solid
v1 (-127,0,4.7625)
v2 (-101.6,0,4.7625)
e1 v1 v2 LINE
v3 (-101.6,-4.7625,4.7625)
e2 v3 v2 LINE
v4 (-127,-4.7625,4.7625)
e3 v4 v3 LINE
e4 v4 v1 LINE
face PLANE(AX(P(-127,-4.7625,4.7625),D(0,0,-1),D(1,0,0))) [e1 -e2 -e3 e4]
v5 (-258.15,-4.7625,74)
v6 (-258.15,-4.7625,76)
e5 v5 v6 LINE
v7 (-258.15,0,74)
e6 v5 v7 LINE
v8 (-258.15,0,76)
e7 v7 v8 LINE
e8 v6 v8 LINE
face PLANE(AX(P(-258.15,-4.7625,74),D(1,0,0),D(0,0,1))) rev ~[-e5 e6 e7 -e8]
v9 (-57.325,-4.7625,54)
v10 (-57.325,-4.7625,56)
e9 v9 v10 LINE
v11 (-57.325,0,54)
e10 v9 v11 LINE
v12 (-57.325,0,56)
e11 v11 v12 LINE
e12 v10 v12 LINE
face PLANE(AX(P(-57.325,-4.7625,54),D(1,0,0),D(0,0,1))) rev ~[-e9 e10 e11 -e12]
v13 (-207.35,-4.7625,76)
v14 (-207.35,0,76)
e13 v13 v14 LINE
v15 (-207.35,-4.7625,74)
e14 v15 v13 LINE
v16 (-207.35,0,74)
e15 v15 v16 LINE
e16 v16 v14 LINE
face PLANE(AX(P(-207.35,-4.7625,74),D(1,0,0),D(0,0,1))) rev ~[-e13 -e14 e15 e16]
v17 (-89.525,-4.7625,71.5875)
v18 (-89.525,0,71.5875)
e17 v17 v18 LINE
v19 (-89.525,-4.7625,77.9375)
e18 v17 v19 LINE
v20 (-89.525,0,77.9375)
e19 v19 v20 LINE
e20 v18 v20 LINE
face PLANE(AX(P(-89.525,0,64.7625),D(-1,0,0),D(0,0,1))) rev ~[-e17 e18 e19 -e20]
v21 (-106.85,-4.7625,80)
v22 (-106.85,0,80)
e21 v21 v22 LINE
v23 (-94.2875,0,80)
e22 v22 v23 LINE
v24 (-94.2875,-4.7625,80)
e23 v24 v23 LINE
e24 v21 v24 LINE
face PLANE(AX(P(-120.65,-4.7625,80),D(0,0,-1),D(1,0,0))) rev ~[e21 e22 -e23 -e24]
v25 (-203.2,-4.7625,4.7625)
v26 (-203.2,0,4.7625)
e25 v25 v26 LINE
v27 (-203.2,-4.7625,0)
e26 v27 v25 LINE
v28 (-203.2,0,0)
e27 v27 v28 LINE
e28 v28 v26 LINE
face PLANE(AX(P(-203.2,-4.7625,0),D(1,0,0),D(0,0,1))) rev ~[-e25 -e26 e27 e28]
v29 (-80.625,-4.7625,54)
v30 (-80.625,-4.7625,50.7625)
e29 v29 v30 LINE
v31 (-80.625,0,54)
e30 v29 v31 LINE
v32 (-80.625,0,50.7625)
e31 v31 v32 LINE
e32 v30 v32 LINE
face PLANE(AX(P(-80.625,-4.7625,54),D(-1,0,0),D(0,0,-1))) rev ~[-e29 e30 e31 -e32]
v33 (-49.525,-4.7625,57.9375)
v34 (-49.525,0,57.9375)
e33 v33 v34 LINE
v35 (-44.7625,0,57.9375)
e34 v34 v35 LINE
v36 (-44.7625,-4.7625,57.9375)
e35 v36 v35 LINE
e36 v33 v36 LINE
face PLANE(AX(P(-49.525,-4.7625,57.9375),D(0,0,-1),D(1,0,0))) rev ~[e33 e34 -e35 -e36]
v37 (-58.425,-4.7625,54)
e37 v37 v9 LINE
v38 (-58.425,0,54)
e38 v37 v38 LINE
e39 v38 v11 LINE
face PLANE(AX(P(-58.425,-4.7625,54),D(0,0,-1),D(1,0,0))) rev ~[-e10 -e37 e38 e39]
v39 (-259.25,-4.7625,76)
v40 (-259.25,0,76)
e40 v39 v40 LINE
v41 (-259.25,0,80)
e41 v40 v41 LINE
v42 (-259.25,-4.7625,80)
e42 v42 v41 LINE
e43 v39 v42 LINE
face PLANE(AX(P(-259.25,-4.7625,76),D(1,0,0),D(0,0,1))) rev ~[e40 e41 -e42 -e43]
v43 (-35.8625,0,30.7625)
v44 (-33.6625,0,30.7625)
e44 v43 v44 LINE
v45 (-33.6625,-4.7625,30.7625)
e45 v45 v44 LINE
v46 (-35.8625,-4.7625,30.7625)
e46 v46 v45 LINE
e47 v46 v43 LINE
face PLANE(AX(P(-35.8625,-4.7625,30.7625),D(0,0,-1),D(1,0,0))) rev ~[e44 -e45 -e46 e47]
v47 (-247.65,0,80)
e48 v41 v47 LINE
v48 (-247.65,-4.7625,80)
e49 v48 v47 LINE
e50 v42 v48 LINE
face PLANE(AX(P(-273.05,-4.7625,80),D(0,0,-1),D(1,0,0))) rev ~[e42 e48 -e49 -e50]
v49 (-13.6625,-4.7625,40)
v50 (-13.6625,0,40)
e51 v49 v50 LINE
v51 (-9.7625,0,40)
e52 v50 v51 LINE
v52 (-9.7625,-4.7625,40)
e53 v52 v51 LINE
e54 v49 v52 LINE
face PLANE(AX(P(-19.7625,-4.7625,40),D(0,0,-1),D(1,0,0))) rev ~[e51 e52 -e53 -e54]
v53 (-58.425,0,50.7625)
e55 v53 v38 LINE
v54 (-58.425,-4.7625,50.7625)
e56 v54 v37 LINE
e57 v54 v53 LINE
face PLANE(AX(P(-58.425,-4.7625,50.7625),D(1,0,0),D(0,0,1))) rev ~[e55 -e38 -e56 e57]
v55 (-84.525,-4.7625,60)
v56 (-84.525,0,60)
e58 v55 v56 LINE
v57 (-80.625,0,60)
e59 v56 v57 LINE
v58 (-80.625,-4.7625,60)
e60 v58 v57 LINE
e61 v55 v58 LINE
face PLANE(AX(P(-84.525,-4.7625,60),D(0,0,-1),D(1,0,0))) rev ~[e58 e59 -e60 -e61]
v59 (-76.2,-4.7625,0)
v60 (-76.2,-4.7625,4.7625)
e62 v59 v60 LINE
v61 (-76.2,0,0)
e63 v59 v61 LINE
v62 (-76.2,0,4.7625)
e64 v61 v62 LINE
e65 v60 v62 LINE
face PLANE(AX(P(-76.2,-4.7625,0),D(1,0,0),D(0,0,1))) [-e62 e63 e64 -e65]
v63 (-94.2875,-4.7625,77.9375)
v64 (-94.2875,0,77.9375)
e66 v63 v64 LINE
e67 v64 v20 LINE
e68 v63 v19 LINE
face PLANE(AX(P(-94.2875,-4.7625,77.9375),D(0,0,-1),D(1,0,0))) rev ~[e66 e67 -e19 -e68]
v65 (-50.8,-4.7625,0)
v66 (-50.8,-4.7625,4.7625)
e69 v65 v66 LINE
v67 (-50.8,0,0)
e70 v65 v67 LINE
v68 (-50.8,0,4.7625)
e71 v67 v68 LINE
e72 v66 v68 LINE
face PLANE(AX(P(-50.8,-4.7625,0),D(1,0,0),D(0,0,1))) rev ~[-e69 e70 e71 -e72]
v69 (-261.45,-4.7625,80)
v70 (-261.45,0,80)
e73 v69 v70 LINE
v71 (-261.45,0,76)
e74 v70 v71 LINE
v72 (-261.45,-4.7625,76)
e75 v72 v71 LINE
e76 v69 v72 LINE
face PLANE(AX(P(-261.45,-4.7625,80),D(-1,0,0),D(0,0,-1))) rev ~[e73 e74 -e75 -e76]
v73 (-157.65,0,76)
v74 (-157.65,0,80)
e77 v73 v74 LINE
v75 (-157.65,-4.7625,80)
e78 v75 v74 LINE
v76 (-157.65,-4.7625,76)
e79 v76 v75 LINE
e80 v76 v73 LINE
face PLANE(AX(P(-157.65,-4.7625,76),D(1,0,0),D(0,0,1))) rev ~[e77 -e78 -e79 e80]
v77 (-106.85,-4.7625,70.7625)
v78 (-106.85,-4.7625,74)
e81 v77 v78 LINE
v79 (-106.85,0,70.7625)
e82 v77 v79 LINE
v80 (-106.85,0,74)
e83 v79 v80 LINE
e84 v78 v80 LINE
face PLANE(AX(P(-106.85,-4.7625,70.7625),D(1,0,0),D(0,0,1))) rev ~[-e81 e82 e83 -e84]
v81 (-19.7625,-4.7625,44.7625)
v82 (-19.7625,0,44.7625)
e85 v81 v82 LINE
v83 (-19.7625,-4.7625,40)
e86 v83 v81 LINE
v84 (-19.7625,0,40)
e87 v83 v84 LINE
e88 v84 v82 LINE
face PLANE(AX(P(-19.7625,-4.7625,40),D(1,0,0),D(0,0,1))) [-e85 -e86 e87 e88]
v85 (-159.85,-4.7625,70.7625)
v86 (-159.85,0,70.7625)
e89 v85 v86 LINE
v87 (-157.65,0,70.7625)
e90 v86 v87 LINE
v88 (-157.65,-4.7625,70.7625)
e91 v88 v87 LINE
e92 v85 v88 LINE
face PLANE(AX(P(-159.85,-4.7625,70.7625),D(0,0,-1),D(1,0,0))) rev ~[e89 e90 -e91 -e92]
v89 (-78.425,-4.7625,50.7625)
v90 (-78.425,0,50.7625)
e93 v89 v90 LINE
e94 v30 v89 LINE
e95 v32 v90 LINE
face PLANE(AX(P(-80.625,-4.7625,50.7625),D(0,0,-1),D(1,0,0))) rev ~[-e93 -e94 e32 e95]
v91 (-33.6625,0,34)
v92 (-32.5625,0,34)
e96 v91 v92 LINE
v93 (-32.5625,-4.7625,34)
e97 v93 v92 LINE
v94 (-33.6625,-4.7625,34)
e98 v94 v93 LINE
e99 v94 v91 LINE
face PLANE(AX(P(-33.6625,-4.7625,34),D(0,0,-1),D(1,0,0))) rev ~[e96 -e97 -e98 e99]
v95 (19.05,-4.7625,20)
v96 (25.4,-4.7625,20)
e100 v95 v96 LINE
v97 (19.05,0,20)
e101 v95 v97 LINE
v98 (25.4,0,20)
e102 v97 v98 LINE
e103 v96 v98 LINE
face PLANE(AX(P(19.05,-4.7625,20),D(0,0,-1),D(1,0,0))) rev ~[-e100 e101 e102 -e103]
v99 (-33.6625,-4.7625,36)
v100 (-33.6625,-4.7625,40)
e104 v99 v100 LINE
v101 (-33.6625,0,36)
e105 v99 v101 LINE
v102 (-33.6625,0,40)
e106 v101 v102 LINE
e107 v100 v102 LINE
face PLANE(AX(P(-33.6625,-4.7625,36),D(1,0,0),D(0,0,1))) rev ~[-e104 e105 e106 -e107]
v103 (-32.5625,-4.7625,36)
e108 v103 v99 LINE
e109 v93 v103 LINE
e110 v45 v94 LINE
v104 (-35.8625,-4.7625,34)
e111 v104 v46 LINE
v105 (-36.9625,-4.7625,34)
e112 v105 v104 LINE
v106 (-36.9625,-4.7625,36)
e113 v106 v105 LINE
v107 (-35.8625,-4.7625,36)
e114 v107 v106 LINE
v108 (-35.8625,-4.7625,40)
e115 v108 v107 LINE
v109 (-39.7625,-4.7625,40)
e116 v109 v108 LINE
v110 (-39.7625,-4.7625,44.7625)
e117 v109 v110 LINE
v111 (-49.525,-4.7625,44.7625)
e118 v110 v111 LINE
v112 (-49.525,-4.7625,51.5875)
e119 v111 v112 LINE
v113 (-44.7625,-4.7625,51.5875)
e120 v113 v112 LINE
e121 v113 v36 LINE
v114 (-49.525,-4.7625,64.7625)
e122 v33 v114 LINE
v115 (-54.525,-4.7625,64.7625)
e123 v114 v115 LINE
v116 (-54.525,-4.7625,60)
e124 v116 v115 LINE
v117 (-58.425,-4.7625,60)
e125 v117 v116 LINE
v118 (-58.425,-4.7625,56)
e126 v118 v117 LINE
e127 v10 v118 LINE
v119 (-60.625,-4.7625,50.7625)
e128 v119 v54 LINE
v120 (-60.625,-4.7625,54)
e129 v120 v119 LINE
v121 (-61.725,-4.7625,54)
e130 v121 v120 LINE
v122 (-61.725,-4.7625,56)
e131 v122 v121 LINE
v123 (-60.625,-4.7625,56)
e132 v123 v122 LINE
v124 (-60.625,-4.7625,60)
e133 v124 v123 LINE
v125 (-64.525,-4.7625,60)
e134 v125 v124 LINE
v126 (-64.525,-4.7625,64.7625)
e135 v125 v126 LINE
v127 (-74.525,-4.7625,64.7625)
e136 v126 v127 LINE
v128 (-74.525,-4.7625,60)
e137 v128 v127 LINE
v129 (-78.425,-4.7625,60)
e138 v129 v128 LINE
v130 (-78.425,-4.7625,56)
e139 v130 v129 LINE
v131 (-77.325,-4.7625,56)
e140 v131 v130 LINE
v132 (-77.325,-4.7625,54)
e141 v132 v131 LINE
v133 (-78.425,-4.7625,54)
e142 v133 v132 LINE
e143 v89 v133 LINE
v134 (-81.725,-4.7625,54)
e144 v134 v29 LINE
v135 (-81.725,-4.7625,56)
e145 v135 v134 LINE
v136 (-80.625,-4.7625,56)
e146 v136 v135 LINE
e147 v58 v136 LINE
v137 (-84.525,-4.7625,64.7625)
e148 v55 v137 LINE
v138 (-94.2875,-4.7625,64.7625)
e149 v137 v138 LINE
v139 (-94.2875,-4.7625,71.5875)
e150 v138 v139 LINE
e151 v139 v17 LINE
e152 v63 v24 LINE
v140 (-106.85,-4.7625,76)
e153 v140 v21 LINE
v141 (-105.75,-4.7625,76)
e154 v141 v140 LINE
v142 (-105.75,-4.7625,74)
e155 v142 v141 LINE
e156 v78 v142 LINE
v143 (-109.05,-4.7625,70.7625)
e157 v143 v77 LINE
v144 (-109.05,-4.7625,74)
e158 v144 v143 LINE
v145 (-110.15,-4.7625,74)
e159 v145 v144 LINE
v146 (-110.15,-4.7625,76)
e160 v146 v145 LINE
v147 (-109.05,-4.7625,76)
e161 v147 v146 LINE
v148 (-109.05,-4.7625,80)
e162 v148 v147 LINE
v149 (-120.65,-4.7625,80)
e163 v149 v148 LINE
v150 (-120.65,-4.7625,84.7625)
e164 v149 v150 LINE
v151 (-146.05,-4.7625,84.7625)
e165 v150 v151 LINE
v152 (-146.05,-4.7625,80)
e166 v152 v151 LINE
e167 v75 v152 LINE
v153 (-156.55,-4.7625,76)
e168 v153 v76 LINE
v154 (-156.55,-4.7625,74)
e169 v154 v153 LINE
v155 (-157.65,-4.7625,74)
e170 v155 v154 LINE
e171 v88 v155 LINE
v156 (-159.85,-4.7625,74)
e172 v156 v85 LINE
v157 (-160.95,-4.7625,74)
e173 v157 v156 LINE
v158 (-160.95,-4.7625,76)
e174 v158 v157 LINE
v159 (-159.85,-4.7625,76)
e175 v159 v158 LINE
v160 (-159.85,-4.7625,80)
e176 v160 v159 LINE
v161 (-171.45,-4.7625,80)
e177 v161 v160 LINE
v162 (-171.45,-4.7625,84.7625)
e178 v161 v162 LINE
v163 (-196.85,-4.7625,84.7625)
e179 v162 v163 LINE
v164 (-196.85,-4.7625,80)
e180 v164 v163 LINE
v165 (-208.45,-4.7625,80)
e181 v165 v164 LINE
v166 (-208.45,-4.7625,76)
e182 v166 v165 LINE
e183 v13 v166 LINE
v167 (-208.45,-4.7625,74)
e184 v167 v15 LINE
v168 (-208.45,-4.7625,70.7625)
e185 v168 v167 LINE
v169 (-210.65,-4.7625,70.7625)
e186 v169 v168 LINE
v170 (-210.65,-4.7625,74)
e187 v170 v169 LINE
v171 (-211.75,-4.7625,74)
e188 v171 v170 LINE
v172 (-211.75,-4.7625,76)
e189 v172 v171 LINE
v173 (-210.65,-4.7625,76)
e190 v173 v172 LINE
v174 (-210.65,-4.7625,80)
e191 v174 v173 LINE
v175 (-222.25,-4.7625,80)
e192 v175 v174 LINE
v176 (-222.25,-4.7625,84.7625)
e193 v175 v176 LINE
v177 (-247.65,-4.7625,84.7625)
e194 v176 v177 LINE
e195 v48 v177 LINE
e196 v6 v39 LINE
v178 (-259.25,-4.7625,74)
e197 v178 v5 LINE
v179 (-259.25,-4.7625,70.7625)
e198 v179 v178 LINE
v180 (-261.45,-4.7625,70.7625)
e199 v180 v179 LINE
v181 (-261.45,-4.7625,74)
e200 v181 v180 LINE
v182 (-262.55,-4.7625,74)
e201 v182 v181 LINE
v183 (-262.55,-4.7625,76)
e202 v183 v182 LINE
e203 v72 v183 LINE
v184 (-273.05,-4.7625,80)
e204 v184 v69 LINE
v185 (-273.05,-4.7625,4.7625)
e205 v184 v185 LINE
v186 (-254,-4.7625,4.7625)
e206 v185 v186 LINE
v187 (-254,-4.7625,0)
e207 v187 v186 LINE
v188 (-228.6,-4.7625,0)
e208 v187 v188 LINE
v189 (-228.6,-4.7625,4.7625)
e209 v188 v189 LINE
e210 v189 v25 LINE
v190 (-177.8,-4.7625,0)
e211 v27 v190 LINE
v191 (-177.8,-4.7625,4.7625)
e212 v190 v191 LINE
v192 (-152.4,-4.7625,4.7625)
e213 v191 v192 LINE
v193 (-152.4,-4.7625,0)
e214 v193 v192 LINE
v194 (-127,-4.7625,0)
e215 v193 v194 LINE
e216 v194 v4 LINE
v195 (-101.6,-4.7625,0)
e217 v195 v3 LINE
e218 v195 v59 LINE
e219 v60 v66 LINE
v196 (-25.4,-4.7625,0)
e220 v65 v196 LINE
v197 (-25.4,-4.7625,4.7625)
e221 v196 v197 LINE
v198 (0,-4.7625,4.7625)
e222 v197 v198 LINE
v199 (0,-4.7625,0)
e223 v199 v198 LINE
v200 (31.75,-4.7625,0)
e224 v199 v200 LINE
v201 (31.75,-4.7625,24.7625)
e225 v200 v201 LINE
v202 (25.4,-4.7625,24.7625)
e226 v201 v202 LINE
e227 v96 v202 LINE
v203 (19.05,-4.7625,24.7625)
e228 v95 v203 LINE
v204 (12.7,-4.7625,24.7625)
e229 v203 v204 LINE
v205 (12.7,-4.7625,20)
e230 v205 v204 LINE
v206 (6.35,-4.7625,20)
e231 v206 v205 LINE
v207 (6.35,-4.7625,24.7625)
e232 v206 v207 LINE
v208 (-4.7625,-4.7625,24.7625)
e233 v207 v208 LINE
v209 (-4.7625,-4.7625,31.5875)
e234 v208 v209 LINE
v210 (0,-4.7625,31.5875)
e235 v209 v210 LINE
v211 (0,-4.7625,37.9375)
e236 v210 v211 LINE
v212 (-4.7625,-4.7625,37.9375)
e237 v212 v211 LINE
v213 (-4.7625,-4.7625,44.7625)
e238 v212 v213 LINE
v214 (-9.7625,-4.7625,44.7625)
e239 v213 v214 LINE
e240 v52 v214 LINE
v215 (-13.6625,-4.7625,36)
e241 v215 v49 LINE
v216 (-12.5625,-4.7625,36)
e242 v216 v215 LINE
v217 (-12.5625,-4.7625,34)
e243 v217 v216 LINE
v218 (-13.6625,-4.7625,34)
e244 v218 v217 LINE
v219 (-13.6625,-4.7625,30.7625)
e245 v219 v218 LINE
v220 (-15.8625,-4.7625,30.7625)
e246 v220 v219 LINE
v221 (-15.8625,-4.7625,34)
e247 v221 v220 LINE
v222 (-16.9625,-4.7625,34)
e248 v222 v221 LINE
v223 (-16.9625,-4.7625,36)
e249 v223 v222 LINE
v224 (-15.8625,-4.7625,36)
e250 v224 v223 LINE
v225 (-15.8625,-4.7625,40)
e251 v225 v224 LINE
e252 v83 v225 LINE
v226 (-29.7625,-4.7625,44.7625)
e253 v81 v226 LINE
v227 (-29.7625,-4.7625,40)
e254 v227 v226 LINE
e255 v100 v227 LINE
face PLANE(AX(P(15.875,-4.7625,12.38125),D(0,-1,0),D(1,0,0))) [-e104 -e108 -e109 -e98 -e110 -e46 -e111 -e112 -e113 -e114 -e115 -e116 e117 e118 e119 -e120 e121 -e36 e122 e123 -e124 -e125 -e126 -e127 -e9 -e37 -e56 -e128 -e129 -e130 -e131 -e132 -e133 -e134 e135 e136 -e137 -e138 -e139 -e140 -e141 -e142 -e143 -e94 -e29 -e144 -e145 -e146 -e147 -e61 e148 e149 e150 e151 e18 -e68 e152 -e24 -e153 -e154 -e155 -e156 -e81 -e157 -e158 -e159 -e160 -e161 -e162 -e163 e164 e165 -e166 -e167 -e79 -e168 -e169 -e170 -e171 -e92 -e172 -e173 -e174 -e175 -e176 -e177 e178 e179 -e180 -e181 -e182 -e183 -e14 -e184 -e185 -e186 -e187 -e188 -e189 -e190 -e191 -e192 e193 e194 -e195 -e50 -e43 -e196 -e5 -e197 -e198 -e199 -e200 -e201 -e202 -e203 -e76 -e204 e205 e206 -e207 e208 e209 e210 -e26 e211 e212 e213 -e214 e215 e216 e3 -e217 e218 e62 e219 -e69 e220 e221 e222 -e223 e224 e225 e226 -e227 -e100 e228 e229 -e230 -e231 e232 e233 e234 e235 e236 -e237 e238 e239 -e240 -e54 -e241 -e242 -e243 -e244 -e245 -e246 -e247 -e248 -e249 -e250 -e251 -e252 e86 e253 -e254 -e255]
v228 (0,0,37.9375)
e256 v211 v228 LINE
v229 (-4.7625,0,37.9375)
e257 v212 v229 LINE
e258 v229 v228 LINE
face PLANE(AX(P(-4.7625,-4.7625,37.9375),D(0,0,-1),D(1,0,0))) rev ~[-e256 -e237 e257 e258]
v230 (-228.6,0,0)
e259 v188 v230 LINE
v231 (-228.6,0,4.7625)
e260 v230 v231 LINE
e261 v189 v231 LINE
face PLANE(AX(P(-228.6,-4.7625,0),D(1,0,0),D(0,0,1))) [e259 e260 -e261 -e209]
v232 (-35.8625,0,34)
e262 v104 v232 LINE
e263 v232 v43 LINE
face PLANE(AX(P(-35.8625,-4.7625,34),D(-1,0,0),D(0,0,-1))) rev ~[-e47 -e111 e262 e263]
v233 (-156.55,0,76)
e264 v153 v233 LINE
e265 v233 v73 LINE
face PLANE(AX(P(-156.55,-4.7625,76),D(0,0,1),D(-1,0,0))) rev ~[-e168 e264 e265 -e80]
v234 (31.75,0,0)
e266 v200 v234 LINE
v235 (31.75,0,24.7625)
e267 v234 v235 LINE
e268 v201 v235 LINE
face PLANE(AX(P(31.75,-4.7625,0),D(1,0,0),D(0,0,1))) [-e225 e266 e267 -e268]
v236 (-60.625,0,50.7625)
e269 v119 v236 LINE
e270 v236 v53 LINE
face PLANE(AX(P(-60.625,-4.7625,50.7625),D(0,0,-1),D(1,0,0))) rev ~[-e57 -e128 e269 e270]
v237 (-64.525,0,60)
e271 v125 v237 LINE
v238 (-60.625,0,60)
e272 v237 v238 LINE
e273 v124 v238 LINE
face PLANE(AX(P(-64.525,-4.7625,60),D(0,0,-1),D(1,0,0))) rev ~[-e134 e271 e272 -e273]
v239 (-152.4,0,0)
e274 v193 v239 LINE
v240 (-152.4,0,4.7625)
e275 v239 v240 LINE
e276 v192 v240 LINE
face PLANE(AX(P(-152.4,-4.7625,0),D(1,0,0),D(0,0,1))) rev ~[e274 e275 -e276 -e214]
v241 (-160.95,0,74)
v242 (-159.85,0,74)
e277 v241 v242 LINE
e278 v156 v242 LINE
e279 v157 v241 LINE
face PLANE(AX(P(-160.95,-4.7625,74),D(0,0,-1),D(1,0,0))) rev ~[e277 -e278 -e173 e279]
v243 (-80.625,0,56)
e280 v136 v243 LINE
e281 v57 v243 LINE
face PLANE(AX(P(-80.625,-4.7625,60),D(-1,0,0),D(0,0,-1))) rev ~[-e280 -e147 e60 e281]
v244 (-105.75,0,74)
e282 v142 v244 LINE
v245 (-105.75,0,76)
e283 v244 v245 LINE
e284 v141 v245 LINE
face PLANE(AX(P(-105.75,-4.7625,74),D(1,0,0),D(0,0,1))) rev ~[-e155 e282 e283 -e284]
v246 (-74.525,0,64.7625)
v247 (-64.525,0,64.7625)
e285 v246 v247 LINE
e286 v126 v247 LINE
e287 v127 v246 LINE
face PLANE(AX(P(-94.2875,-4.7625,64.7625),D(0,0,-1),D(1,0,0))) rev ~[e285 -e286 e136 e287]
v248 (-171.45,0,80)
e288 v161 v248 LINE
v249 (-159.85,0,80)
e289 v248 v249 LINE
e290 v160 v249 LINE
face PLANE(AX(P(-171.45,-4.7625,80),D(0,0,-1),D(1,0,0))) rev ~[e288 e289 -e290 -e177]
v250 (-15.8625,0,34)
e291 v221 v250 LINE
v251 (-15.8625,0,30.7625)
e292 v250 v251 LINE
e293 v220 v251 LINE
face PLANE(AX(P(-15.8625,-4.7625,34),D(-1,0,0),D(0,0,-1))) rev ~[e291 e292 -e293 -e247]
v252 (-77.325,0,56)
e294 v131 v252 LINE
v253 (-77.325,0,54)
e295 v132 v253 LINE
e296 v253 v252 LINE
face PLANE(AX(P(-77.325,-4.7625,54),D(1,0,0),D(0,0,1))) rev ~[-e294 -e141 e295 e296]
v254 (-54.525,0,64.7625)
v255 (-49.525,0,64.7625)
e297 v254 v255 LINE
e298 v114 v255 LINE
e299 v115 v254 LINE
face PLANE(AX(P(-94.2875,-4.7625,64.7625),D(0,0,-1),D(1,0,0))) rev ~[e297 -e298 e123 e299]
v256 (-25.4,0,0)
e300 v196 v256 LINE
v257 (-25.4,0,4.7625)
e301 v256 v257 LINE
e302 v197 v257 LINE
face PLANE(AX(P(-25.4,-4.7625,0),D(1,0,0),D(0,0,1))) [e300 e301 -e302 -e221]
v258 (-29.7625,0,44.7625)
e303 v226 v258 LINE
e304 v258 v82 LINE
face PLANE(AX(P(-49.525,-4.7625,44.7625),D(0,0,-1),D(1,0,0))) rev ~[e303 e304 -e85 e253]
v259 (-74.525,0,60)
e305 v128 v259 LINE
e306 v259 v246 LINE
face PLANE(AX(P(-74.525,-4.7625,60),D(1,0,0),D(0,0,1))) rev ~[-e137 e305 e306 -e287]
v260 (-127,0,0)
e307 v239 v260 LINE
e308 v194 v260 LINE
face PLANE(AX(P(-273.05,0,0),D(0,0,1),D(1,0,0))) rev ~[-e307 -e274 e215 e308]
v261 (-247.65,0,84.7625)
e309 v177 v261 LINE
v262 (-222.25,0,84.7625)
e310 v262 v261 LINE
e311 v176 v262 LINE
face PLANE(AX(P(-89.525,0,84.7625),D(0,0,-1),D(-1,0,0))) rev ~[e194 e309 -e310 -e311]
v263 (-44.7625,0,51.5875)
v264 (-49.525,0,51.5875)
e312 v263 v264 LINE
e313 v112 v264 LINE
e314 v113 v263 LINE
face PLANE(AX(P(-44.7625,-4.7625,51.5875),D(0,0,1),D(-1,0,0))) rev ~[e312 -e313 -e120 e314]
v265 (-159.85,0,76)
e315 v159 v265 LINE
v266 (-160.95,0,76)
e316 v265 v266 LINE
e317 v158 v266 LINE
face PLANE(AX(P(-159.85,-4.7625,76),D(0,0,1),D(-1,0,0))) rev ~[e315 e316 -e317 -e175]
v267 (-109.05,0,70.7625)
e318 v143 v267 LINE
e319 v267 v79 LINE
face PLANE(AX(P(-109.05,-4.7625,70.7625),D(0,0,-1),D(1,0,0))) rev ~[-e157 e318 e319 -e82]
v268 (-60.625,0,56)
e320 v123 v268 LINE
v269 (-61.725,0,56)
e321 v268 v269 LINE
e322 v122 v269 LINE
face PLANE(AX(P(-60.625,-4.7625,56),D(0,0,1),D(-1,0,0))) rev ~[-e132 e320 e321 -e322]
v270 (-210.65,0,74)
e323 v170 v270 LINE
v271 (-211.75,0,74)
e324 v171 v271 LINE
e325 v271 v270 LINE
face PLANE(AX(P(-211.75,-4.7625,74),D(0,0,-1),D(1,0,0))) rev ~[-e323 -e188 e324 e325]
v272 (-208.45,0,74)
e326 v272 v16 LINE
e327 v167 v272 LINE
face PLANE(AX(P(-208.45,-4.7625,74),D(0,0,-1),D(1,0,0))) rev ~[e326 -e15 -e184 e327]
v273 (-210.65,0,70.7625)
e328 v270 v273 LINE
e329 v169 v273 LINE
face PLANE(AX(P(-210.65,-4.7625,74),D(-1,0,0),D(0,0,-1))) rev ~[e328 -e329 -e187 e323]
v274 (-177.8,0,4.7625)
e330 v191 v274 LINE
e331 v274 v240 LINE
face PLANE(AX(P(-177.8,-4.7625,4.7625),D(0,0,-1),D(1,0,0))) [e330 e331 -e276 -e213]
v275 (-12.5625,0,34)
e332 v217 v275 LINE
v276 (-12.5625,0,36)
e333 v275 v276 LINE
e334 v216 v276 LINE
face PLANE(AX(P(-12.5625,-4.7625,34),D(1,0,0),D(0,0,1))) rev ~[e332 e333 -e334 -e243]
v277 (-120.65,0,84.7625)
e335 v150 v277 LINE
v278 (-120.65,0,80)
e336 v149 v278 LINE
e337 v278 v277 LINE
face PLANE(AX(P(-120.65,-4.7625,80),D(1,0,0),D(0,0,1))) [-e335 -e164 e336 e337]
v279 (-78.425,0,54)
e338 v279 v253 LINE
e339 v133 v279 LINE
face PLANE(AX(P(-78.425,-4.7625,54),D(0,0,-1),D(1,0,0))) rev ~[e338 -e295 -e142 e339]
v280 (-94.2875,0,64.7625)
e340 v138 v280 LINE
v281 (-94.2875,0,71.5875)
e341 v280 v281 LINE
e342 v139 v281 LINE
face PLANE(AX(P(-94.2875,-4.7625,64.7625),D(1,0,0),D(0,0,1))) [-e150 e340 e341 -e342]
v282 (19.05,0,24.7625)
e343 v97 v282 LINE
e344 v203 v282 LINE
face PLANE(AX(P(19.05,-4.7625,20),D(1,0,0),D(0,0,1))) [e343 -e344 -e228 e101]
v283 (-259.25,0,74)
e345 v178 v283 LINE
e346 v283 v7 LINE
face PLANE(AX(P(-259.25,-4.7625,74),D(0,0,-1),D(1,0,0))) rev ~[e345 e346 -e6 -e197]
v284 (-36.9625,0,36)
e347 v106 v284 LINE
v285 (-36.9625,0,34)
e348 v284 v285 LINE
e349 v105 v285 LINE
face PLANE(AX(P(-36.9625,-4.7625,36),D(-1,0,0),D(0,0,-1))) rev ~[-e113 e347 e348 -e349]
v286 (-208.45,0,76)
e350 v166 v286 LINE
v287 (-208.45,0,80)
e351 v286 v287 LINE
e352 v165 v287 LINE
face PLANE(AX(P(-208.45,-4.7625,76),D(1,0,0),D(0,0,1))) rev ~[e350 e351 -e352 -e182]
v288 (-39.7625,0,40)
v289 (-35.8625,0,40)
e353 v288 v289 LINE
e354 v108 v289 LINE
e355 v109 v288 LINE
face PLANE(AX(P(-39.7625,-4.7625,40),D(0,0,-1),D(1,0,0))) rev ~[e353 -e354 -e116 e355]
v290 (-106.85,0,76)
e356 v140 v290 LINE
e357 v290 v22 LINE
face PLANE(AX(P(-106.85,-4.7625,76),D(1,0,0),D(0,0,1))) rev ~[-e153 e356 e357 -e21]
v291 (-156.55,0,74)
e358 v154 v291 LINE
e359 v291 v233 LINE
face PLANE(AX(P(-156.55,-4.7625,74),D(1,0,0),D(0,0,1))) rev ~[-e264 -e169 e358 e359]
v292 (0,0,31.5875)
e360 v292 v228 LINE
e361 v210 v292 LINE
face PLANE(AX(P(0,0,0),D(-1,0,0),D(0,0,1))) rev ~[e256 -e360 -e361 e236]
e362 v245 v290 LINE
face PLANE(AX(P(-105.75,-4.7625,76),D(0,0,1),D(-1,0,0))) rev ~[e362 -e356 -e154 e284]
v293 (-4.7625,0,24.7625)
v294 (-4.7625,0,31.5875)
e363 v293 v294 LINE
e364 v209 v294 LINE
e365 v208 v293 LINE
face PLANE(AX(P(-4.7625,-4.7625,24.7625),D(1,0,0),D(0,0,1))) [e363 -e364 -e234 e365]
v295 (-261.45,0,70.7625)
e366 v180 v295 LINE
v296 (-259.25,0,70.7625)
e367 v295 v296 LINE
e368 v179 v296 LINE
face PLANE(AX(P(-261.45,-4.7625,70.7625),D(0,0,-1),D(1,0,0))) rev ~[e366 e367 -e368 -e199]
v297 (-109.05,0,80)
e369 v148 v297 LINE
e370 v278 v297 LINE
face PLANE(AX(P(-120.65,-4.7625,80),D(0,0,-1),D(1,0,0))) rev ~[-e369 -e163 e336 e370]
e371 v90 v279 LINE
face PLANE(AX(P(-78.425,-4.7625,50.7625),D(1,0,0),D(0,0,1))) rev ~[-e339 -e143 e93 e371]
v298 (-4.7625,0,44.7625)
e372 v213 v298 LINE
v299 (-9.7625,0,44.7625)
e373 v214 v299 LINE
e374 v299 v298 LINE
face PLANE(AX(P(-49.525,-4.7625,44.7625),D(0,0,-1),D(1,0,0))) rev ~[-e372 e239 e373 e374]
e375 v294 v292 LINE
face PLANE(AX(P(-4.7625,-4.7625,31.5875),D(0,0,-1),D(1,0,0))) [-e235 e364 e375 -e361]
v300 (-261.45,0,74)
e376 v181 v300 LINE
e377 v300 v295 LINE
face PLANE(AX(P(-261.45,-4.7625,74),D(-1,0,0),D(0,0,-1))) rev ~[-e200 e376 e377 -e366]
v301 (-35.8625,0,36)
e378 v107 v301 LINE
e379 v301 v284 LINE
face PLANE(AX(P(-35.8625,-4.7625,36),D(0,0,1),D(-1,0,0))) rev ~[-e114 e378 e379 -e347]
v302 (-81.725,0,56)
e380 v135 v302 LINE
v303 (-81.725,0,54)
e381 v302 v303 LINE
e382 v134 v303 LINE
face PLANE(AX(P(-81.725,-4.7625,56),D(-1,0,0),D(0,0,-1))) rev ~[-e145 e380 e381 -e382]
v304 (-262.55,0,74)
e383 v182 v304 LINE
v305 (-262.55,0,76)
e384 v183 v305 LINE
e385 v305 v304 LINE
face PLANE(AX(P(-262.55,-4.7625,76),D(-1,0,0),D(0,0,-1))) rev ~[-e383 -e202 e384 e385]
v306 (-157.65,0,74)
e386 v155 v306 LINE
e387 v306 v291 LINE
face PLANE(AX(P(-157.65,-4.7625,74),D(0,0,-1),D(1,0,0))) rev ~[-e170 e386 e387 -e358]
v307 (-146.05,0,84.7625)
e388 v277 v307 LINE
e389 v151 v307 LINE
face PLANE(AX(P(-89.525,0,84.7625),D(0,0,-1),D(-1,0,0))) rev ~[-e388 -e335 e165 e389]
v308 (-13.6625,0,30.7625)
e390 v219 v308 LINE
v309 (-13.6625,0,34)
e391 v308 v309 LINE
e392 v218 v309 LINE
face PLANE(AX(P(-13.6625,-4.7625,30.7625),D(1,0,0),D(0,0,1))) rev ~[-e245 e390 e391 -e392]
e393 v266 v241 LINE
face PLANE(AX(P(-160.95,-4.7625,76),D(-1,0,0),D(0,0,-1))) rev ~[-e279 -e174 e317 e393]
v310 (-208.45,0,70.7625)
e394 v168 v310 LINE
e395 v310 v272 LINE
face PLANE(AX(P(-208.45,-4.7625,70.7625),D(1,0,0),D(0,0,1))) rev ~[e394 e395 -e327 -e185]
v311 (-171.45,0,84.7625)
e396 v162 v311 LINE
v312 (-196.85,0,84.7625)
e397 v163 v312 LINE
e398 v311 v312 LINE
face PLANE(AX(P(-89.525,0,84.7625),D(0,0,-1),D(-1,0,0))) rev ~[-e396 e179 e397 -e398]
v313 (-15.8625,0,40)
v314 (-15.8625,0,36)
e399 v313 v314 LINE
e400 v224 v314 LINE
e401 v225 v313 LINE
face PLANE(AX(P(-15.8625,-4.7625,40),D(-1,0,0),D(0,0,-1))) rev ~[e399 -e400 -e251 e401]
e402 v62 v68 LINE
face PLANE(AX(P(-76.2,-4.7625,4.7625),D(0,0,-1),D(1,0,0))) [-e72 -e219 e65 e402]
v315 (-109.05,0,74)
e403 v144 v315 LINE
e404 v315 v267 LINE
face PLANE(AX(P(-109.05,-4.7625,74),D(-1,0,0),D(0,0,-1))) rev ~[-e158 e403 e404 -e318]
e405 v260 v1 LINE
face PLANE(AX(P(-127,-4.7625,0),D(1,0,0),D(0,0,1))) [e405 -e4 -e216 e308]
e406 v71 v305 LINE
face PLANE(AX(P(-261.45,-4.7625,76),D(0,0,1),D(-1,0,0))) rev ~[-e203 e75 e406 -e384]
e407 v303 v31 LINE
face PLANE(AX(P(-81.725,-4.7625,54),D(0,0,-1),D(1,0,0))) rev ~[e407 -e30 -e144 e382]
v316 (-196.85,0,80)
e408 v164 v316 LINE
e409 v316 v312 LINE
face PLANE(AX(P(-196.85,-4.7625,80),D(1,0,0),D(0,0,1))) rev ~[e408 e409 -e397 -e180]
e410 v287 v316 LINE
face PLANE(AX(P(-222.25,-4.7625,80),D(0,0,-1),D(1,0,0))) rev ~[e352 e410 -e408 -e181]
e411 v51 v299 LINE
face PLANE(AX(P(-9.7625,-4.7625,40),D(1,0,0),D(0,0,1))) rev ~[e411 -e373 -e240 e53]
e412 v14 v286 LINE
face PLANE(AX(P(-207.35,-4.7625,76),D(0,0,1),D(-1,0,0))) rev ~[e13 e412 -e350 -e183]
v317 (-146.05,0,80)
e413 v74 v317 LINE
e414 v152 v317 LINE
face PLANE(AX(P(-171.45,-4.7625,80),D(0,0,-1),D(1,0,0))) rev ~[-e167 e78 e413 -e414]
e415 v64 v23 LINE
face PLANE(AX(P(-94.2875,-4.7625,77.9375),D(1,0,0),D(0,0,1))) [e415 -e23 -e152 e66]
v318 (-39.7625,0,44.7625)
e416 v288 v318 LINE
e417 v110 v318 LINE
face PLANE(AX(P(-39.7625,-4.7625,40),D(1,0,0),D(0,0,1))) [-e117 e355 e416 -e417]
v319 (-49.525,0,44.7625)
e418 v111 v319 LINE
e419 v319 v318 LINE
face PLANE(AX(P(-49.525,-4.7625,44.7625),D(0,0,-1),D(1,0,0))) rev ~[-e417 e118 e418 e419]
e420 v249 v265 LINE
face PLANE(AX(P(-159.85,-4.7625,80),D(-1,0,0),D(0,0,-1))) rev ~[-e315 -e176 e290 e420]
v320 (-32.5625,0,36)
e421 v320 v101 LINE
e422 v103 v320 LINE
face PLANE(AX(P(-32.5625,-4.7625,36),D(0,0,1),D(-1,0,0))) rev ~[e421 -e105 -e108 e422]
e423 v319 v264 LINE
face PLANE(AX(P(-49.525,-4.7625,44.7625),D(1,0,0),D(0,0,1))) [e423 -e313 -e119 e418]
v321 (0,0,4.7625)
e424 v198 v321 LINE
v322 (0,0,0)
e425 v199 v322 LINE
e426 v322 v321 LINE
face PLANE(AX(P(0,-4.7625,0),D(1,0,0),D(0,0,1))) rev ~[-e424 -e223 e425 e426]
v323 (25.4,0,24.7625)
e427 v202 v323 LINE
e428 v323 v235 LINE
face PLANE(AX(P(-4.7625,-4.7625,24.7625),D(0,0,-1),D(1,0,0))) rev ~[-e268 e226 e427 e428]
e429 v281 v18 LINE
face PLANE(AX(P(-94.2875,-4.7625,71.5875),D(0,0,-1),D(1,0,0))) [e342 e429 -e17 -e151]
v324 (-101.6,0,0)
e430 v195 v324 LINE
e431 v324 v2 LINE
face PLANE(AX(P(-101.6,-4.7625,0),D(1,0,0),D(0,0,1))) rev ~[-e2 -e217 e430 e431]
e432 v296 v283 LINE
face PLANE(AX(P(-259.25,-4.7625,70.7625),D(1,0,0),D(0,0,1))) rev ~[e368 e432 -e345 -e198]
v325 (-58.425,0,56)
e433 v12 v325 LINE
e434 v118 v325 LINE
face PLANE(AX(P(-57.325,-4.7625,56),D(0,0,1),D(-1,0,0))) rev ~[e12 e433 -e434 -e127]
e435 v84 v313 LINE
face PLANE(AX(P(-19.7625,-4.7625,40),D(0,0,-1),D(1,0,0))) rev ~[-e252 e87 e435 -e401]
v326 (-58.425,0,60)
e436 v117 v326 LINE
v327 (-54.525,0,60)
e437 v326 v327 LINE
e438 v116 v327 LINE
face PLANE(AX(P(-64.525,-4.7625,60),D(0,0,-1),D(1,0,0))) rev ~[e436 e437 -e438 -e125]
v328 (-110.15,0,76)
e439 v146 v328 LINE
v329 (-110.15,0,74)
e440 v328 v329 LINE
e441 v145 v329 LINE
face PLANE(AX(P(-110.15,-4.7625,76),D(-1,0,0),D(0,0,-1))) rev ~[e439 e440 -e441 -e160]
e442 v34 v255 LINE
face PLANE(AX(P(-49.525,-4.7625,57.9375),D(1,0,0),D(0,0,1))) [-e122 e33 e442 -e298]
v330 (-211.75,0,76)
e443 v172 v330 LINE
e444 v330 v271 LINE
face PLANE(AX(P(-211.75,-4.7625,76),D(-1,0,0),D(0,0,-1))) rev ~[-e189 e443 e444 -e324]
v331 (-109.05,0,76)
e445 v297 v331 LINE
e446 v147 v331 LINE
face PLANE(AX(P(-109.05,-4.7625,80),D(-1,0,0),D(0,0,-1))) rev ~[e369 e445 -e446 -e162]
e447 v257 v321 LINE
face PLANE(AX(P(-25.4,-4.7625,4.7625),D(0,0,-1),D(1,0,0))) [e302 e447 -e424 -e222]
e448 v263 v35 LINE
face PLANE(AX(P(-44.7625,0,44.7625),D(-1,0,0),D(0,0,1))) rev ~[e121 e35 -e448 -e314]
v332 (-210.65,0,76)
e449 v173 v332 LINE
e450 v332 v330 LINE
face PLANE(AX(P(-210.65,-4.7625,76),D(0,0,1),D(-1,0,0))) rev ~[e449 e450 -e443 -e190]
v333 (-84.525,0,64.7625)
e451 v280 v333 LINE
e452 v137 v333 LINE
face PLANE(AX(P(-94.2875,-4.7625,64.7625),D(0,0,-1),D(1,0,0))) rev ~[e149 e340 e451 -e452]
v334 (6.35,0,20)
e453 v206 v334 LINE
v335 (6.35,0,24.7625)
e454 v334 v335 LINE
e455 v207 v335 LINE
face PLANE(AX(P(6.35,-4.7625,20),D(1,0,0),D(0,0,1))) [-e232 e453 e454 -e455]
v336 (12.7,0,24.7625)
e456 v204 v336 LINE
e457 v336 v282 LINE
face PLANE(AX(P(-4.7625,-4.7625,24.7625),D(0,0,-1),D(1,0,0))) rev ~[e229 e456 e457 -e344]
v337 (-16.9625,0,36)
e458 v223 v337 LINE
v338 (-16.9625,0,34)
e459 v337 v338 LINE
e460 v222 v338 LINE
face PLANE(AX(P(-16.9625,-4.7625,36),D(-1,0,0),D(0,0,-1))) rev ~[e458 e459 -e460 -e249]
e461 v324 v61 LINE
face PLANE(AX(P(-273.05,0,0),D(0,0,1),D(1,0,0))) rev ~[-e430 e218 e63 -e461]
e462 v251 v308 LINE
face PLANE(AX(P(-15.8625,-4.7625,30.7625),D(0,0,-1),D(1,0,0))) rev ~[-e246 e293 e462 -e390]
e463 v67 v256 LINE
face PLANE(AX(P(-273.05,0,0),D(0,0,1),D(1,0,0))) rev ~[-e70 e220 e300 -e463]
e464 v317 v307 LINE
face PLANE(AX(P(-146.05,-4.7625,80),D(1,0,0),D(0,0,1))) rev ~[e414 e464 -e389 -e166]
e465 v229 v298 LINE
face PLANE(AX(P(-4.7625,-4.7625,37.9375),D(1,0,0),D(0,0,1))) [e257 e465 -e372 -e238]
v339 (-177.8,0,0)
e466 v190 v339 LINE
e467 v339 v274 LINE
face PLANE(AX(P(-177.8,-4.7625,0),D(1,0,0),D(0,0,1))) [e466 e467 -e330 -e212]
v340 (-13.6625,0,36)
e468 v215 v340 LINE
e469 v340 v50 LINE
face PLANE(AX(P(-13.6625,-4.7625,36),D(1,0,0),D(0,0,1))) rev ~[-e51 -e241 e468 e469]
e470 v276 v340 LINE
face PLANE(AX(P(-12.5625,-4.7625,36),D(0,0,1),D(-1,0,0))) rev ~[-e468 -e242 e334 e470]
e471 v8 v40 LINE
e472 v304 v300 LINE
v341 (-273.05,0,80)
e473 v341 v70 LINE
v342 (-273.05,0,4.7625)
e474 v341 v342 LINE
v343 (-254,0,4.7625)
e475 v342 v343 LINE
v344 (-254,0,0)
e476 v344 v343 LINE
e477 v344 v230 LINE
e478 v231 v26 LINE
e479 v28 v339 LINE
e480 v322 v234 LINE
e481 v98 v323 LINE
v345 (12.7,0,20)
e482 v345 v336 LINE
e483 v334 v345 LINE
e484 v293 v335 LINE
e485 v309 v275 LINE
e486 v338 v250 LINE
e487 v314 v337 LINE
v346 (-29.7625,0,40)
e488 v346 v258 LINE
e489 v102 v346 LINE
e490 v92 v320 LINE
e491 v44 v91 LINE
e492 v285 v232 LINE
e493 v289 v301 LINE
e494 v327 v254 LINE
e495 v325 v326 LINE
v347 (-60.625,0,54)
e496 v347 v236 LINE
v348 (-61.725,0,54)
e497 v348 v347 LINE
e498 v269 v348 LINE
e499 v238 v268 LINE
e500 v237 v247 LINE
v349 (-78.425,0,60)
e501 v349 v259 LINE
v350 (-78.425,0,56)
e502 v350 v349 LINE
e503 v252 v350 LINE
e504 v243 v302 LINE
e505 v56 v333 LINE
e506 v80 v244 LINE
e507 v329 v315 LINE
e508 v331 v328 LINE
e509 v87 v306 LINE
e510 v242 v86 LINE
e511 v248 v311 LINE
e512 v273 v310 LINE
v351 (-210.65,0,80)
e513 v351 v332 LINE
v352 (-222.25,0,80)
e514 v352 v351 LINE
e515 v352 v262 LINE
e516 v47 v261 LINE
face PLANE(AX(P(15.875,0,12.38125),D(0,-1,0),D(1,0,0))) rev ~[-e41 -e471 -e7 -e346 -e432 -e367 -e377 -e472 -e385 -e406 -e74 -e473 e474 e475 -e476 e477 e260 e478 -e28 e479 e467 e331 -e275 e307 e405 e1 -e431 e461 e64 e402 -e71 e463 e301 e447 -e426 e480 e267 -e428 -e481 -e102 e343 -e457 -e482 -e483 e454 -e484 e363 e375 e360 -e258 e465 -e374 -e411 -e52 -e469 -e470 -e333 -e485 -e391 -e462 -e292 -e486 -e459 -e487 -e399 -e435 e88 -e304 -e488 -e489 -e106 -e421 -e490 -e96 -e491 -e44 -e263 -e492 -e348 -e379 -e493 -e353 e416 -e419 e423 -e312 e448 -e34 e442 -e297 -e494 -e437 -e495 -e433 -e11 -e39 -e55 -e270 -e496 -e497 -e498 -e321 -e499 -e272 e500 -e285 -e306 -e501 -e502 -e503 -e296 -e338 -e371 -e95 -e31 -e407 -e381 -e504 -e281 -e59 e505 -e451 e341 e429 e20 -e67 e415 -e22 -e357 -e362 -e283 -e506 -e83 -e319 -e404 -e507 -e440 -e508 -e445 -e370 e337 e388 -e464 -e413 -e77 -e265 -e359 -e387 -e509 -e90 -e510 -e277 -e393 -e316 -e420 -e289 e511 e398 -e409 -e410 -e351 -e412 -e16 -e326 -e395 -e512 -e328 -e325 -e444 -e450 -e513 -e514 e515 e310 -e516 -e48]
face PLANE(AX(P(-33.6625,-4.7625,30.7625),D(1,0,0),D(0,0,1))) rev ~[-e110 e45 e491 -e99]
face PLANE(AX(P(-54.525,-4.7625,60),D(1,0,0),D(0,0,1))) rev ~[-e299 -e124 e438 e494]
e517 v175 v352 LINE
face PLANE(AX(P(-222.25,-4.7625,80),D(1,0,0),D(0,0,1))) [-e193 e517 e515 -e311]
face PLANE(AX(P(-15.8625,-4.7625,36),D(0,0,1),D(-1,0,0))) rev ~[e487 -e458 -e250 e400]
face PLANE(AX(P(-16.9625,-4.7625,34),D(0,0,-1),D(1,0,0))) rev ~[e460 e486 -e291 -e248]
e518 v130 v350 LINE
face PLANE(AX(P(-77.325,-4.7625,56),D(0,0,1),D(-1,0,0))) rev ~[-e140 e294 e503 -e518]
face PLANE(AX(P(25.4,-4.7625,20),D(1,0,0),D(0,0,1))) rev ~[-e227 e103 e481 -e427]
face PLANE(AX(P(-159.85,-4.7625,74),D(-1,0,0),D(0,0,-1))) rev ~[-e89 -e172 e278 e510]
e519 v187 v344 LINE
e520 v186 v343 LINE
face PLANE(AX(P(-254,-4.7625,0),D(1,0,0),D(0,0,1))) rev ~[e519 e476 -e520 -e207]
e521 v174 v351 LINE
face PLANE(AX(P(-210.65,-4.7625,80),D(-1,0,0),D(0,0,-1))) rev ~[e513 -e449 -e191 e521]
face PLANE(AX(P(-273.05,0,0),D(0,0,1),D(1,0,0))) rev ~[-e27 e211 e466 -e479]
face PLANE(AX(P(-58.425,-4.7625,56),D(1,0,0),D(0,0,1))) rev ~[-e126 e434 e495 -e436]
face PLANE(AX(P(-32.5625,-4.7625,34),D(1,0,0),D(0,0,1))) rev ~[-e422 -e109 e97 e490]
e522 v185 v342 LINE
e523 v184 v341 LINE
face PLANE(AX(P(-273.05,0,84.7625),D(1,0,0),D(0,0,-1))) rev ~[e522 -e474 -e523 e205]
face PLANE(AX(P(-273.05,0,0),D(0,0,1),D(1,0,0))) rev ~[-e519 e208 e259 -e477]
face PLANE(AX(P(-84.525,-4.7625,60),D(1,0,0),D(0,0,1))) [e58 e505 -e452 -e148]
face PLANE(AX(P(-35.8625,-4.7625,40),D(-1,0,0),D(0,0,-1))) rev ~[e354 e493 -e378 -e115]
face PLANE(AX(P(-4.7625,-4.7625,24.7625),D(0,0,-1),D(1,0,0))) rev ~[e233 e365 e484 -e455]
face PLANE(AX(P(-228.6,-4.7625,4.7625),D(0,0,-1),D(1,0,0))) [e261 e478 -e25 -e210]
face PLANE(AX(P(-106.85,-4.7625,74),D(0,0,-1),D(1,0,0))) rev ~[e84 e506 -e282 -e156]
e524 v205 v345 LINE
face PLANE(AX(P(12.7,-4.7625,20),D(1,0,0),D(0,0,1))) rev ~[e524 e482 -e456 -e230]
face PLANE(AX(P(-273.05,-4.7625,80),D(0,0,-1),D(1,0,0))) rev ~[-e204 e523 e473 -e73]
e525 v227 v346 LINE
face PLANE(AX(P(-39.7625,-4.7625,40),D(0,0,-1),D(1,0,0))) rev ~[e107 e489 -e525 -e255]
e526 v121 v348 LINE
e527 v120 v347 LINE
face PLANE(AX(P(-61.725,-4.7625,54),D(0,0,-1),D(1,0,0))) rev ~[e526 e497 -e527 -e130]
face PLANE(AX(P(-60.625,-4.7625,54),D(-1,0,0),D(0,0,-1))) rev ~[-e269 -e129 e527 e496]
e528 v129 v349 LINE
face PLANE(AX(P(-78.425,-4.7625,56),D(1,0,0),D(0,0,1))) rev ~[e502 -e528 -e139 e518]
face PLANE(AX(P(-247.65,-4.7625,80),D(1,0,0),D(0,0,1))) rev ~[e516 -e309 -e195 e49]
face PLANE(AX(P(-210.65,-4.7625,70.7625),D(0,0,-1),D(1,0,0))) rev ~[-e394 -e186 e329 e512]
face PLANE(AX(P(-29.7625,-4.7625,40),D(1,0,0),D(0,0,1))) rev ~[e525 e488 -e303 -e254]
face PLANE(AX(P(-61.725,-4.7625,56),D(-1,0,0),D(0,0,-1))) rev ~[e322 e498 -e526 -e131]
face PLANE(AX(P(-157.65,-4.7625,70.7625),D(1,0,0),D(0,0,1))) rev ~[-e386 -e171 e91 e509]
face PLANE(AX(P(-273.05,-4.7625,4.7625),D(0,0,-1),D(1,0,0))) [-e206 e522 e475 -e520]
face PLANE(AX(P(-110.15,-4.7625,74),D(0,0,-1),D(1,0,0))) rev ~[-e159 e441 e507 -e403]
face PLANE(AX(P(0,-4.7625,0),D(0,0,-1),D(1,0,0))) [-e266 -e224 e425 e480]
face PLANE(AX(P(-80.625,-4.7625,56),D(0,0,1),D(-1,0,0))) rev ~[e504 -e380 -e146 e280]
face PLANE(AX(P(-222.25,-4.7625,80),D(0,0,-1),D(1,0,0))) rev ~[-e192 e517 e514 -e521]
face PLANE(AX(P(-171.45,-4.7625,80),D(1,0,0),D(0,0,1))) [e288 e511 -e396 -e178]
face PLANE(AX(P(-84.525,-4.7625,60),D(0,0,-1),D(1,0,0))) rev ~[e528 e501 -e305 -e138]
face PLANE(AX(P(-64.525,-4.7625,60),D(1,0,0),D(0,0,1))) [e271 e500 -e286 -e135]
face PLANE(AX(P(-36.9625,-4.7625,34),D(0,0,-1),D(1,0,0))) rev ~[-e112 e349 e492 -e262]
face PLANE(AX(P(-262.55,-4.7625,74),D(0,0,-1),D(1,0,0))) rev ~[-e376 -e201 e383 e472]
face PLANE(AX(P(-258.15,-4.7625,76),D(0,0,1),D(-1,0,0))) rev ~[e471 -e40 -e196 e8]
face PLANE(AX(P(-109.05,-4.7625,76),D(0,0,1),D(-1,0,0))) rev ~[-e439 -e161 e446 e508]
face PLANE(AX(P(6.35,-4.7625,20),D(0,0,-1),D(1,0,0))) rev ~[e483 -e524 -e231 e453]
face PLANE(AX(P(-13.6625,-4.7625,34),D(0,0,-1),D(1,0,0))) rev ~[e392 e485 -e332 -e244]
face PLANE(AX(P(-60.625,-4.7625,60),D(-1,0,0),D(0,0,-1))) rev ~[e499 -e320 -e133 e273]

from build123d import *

# Parameters (mm, degrees)
F1_DEPTH  = 4.7625
F2_W      = 19.05
F2_H      = 4.7625
F2_W_2    = 25.4
F3_DEPTH  = 25.4
F4_W      = 4.7625
F4_H      = 6.825
F4_W_2    = 0.2375
F4_W_3    = 4.525
F5_DEPTH  = 25.4
F6_W      = 31.75
F6_H      = 24.7625
F7_DEPTH  = 4.7625
F8_W      = 4.7625
F8_H      = 6.825
F9_DEPTH  = 25.4
F10_W     = 6.35
F10_H     = 4.7625
F11_DEPTH = 25.4
F12_W     = 10
F12_H     = 4.7625
F13_DEPTH = 25.4
F14_W     = 25.4
F14_H     = 4.7625
F14_W_2   = 26.3625
F15_DEPTH = 25.4
F17_DEPTH = 25.4


with BuildPart() as f1:
    # F0 (on Front) → F1 (new body)
    with BuildSketch(Plane.XZ):
        Polygon((-273.05, 0), (0, 0), (0, 44.7625), (-44.7625, 44.7625), (-44.7625, 64.7625), (-89.525, 64.7625), (-89.525, 84.7625), (-129.525, 84.7625), (-273.05, 84.7625), align=None)
    extrude(amount=F1_DEPTH)

    # F2 (on face) → F3 (cut)
    with BuildSketch(Plane.XZ.offset(4.7625)):
        with Locations((-263.525, 2.38125)):
            Rectangle(F2_W, F2_H)
        with Locations((-12.7, 2.38125)):
            Rectangle(F2_W_2, F2_H)
        with Locations((-63.5, 2.38125)):
            Rectangle(F2_W_2, F2_H)
        with Locations((-114.3, 2.38125)):
            Rectangle(F2_W_2, F2_H)
        with Locations((-165.1, 2.38125)):
            Rectangle(F2_W_2, F2_H)
        with Locations((-215.9, 2.38125)):
            Rectangle(F2_W_2, F2_H)
    extrude(amount=-F3_DEPTH, mode=Mode.SUBTRACT)

    # F4 (on face) → F5 (cut)
    with BuildSketch(Plane.XZ.offset(4.7625)):
        with Locations((-47.14375, 61.35)):
            Rectangle(F4_W, F4_H)
        with Locations((-44.88125, 48.175)):
            Rectangle(F4_W_2, F4_H)
        with Locations((-47.2625, 48.175)):
            Rectangle(F4_W_3, F4_H)
        with Locations((-91.90625, 81.35)):
            Rectangle(F4_W, F4_H)
        with Locations((-91.90625, 68.175)):
            Rectangle(F4_W, F4_H)
    extrude(amount=-F5_DEPTH, mode=Mode.SUBTRACT)

    # F6 (on face) → F7 (join)
    with BuildSketch(Plane.XZ.offset(4.7625)):
        with Locations((15.875, 12.38125)):
            Rectangle(F6_W, F6_H)
    extrude(amount=-F7_DEPTH)

    # F8 (on face) → F9 (cut)
    with BuildSketch(Plane.XZ.offset(4.7625)):
        with Locations((-2.38125, 41.35)):
            Rectangle(F8_W, F8_H)
        with Locations((-2.38125, 28.175)):
            Rectangle(F8_W, F8_H)
    extrude(amount=-F9_DEPTH, mode=Mode.SUBTRACT)

    # F10 (on face) → F11 (cut)
    with BuildSketch(Plane.XZ.offset(4.7625)):
        with Locations((9.525, 22.38125)):
            Rectangle(F10_W, F10_H)
        with Locations((22.225, 22.38125)):
            Rectangle(F10_W, F10_H)
    extrude(amount=-F11_DEPTH, mode=Mode.SUBTRACT)

    # F12 (on face) → F13 (cut)
    with BuildSketch(Plane.XZ.offset(4.7625)):
        with Locations((-34.7625, 42.38125)):
            Rectangle(F12_W, F12_H)
        with Locations((-14.7625, 42.38125)):
            Rectangle(F12_W, F12_H)
        with Locations((-79.525, 62.38125)):
            Rectangle(F12_W, F12_H)
        with Locations((-59.525, 62.38125)):
            Rectangle(F12_W, F12_H)
    extrude(amount=-F13_DEPTH, mode=Mode.SUBTRACT)

    # F14 (on face) → F15 (cut)
    with BuildSketch(Plane.XZ.offset(4.7625)):
        with Locations((-209.55, 82.38125)):
            Rectangle(F14_W, F14_H)
        with Locations((-260.35, 82.38125)):
            Rectangle(F14_W, F14_H)
        with Locations((-158.75, 82.38125)):
            Rectangle(F14_W, F14_H)
        with Locations((-107.46875, 82.38125)):
            Rectangle(F14_W_2, F14_H)
    extrude(amount=-F15_DEPTH, mode=Mode.SUBTRACT)

    # F16 (on face) → F17 (cut)
    with BuildSketch(Plane.XZ.offset(4.7625)):
        Polygon((-33.6625, 40), (-35.8625, 40), (-35.8625, 36), (-36.9625, 36), (-36.9625, 34), (-35.8625, 34), (-35.8625, 30.7625), (-34.7625, 30.7625), (-33.6625, 30.7625), (-33.6625, 34), (-32.5625, 34), (-32.5625, 36), (-33.6625, 36), align=None)
        Polygon((-13.6625, 40), (-15.8625, 40), (-15.8625, 36), (-16.9625, 36), (-16.9625, 34), (-15.8625, 34), (-15.8625, 30.7625), (-14.7625, 30.7625), (-13.6625, 30.7625), (-13.6625, 34), (-12.5625, 34), (-12.5625, 36), (-13.6625, 36), align=None)
        Polygon((-78.425, 60), (-80.625, 60), (-80.625, 56), (-81.725, 56), (-81.725, 54), (-80.625, 54), (-80.625, 50.7625), (-79.525, 50.7625), (-78.425, 50.7625), (-78.425, 54), (-77.325, 54), (-77.325, 56), (-78.425, 56), align=None)
        Polygon((-58.425, 60), (-60.625, 60), (-60.625, 56), (-61.725, 56), (-61.725, 54), (-60.625, 54), (-60.625, 50.7625), (-59.525, 50.7625), (-58.425, 50.7625), (-58.425, 54), (-57.325, 54), (-57.325, 56), (-58.425, 56), align=None)
        Polygon((-157.65, 80), (-159.85, 80), (-159.85, 76), (-160.95, 76), (-160.95, 74), (-159.85, 74), (-159.85, 70.7625), (-158.75, 70.7625), (-157.65, 70.7625), (-157.65, 74), (-156.55, 74), (-156.55, 76), (-157.65, 76), align=None)
        Polygon((-208.45, 80), (-210.65, 80), (-210.65, 76), (-211.75, 76), (-211.75, 74), (-210.65, 74), (-210.65, 70.7625), (-209.55, 70.7625), (-208.45, 70.7625), (-208.45, 74), (-207.35, 74), (-207.35, 76), (-208.45, 76), align=None)
        Polygon((-259.25, 80), (-261.45, 80), (-261.45, 76), (-262.55, 76), (-262.55, 74), (-261.45, 74), (-261.45, 70.7625), (-260.35, 70.7625), (-259.25, 70.7625), (-259.25, 74), (-258.15, 74), (-258.15, 76), (-259.25, 76), align=None)
        Polygon((-106.85, 80), (-109.05, 80), (-109.05, 76), (-110.15, 76), (-110.15, 74), (-109.05, 74), (-109.05, 70.7625), (-107.95, 70.7625), (-106.85, 70.7625), (-106.85, 74), (-105.75, 74), (-105.75, 76), (-106.85, 76), align=None)
    extrude(amount=-F17_DEPTH, mode=Mode.SUBTRACT)


solid = f1.part
